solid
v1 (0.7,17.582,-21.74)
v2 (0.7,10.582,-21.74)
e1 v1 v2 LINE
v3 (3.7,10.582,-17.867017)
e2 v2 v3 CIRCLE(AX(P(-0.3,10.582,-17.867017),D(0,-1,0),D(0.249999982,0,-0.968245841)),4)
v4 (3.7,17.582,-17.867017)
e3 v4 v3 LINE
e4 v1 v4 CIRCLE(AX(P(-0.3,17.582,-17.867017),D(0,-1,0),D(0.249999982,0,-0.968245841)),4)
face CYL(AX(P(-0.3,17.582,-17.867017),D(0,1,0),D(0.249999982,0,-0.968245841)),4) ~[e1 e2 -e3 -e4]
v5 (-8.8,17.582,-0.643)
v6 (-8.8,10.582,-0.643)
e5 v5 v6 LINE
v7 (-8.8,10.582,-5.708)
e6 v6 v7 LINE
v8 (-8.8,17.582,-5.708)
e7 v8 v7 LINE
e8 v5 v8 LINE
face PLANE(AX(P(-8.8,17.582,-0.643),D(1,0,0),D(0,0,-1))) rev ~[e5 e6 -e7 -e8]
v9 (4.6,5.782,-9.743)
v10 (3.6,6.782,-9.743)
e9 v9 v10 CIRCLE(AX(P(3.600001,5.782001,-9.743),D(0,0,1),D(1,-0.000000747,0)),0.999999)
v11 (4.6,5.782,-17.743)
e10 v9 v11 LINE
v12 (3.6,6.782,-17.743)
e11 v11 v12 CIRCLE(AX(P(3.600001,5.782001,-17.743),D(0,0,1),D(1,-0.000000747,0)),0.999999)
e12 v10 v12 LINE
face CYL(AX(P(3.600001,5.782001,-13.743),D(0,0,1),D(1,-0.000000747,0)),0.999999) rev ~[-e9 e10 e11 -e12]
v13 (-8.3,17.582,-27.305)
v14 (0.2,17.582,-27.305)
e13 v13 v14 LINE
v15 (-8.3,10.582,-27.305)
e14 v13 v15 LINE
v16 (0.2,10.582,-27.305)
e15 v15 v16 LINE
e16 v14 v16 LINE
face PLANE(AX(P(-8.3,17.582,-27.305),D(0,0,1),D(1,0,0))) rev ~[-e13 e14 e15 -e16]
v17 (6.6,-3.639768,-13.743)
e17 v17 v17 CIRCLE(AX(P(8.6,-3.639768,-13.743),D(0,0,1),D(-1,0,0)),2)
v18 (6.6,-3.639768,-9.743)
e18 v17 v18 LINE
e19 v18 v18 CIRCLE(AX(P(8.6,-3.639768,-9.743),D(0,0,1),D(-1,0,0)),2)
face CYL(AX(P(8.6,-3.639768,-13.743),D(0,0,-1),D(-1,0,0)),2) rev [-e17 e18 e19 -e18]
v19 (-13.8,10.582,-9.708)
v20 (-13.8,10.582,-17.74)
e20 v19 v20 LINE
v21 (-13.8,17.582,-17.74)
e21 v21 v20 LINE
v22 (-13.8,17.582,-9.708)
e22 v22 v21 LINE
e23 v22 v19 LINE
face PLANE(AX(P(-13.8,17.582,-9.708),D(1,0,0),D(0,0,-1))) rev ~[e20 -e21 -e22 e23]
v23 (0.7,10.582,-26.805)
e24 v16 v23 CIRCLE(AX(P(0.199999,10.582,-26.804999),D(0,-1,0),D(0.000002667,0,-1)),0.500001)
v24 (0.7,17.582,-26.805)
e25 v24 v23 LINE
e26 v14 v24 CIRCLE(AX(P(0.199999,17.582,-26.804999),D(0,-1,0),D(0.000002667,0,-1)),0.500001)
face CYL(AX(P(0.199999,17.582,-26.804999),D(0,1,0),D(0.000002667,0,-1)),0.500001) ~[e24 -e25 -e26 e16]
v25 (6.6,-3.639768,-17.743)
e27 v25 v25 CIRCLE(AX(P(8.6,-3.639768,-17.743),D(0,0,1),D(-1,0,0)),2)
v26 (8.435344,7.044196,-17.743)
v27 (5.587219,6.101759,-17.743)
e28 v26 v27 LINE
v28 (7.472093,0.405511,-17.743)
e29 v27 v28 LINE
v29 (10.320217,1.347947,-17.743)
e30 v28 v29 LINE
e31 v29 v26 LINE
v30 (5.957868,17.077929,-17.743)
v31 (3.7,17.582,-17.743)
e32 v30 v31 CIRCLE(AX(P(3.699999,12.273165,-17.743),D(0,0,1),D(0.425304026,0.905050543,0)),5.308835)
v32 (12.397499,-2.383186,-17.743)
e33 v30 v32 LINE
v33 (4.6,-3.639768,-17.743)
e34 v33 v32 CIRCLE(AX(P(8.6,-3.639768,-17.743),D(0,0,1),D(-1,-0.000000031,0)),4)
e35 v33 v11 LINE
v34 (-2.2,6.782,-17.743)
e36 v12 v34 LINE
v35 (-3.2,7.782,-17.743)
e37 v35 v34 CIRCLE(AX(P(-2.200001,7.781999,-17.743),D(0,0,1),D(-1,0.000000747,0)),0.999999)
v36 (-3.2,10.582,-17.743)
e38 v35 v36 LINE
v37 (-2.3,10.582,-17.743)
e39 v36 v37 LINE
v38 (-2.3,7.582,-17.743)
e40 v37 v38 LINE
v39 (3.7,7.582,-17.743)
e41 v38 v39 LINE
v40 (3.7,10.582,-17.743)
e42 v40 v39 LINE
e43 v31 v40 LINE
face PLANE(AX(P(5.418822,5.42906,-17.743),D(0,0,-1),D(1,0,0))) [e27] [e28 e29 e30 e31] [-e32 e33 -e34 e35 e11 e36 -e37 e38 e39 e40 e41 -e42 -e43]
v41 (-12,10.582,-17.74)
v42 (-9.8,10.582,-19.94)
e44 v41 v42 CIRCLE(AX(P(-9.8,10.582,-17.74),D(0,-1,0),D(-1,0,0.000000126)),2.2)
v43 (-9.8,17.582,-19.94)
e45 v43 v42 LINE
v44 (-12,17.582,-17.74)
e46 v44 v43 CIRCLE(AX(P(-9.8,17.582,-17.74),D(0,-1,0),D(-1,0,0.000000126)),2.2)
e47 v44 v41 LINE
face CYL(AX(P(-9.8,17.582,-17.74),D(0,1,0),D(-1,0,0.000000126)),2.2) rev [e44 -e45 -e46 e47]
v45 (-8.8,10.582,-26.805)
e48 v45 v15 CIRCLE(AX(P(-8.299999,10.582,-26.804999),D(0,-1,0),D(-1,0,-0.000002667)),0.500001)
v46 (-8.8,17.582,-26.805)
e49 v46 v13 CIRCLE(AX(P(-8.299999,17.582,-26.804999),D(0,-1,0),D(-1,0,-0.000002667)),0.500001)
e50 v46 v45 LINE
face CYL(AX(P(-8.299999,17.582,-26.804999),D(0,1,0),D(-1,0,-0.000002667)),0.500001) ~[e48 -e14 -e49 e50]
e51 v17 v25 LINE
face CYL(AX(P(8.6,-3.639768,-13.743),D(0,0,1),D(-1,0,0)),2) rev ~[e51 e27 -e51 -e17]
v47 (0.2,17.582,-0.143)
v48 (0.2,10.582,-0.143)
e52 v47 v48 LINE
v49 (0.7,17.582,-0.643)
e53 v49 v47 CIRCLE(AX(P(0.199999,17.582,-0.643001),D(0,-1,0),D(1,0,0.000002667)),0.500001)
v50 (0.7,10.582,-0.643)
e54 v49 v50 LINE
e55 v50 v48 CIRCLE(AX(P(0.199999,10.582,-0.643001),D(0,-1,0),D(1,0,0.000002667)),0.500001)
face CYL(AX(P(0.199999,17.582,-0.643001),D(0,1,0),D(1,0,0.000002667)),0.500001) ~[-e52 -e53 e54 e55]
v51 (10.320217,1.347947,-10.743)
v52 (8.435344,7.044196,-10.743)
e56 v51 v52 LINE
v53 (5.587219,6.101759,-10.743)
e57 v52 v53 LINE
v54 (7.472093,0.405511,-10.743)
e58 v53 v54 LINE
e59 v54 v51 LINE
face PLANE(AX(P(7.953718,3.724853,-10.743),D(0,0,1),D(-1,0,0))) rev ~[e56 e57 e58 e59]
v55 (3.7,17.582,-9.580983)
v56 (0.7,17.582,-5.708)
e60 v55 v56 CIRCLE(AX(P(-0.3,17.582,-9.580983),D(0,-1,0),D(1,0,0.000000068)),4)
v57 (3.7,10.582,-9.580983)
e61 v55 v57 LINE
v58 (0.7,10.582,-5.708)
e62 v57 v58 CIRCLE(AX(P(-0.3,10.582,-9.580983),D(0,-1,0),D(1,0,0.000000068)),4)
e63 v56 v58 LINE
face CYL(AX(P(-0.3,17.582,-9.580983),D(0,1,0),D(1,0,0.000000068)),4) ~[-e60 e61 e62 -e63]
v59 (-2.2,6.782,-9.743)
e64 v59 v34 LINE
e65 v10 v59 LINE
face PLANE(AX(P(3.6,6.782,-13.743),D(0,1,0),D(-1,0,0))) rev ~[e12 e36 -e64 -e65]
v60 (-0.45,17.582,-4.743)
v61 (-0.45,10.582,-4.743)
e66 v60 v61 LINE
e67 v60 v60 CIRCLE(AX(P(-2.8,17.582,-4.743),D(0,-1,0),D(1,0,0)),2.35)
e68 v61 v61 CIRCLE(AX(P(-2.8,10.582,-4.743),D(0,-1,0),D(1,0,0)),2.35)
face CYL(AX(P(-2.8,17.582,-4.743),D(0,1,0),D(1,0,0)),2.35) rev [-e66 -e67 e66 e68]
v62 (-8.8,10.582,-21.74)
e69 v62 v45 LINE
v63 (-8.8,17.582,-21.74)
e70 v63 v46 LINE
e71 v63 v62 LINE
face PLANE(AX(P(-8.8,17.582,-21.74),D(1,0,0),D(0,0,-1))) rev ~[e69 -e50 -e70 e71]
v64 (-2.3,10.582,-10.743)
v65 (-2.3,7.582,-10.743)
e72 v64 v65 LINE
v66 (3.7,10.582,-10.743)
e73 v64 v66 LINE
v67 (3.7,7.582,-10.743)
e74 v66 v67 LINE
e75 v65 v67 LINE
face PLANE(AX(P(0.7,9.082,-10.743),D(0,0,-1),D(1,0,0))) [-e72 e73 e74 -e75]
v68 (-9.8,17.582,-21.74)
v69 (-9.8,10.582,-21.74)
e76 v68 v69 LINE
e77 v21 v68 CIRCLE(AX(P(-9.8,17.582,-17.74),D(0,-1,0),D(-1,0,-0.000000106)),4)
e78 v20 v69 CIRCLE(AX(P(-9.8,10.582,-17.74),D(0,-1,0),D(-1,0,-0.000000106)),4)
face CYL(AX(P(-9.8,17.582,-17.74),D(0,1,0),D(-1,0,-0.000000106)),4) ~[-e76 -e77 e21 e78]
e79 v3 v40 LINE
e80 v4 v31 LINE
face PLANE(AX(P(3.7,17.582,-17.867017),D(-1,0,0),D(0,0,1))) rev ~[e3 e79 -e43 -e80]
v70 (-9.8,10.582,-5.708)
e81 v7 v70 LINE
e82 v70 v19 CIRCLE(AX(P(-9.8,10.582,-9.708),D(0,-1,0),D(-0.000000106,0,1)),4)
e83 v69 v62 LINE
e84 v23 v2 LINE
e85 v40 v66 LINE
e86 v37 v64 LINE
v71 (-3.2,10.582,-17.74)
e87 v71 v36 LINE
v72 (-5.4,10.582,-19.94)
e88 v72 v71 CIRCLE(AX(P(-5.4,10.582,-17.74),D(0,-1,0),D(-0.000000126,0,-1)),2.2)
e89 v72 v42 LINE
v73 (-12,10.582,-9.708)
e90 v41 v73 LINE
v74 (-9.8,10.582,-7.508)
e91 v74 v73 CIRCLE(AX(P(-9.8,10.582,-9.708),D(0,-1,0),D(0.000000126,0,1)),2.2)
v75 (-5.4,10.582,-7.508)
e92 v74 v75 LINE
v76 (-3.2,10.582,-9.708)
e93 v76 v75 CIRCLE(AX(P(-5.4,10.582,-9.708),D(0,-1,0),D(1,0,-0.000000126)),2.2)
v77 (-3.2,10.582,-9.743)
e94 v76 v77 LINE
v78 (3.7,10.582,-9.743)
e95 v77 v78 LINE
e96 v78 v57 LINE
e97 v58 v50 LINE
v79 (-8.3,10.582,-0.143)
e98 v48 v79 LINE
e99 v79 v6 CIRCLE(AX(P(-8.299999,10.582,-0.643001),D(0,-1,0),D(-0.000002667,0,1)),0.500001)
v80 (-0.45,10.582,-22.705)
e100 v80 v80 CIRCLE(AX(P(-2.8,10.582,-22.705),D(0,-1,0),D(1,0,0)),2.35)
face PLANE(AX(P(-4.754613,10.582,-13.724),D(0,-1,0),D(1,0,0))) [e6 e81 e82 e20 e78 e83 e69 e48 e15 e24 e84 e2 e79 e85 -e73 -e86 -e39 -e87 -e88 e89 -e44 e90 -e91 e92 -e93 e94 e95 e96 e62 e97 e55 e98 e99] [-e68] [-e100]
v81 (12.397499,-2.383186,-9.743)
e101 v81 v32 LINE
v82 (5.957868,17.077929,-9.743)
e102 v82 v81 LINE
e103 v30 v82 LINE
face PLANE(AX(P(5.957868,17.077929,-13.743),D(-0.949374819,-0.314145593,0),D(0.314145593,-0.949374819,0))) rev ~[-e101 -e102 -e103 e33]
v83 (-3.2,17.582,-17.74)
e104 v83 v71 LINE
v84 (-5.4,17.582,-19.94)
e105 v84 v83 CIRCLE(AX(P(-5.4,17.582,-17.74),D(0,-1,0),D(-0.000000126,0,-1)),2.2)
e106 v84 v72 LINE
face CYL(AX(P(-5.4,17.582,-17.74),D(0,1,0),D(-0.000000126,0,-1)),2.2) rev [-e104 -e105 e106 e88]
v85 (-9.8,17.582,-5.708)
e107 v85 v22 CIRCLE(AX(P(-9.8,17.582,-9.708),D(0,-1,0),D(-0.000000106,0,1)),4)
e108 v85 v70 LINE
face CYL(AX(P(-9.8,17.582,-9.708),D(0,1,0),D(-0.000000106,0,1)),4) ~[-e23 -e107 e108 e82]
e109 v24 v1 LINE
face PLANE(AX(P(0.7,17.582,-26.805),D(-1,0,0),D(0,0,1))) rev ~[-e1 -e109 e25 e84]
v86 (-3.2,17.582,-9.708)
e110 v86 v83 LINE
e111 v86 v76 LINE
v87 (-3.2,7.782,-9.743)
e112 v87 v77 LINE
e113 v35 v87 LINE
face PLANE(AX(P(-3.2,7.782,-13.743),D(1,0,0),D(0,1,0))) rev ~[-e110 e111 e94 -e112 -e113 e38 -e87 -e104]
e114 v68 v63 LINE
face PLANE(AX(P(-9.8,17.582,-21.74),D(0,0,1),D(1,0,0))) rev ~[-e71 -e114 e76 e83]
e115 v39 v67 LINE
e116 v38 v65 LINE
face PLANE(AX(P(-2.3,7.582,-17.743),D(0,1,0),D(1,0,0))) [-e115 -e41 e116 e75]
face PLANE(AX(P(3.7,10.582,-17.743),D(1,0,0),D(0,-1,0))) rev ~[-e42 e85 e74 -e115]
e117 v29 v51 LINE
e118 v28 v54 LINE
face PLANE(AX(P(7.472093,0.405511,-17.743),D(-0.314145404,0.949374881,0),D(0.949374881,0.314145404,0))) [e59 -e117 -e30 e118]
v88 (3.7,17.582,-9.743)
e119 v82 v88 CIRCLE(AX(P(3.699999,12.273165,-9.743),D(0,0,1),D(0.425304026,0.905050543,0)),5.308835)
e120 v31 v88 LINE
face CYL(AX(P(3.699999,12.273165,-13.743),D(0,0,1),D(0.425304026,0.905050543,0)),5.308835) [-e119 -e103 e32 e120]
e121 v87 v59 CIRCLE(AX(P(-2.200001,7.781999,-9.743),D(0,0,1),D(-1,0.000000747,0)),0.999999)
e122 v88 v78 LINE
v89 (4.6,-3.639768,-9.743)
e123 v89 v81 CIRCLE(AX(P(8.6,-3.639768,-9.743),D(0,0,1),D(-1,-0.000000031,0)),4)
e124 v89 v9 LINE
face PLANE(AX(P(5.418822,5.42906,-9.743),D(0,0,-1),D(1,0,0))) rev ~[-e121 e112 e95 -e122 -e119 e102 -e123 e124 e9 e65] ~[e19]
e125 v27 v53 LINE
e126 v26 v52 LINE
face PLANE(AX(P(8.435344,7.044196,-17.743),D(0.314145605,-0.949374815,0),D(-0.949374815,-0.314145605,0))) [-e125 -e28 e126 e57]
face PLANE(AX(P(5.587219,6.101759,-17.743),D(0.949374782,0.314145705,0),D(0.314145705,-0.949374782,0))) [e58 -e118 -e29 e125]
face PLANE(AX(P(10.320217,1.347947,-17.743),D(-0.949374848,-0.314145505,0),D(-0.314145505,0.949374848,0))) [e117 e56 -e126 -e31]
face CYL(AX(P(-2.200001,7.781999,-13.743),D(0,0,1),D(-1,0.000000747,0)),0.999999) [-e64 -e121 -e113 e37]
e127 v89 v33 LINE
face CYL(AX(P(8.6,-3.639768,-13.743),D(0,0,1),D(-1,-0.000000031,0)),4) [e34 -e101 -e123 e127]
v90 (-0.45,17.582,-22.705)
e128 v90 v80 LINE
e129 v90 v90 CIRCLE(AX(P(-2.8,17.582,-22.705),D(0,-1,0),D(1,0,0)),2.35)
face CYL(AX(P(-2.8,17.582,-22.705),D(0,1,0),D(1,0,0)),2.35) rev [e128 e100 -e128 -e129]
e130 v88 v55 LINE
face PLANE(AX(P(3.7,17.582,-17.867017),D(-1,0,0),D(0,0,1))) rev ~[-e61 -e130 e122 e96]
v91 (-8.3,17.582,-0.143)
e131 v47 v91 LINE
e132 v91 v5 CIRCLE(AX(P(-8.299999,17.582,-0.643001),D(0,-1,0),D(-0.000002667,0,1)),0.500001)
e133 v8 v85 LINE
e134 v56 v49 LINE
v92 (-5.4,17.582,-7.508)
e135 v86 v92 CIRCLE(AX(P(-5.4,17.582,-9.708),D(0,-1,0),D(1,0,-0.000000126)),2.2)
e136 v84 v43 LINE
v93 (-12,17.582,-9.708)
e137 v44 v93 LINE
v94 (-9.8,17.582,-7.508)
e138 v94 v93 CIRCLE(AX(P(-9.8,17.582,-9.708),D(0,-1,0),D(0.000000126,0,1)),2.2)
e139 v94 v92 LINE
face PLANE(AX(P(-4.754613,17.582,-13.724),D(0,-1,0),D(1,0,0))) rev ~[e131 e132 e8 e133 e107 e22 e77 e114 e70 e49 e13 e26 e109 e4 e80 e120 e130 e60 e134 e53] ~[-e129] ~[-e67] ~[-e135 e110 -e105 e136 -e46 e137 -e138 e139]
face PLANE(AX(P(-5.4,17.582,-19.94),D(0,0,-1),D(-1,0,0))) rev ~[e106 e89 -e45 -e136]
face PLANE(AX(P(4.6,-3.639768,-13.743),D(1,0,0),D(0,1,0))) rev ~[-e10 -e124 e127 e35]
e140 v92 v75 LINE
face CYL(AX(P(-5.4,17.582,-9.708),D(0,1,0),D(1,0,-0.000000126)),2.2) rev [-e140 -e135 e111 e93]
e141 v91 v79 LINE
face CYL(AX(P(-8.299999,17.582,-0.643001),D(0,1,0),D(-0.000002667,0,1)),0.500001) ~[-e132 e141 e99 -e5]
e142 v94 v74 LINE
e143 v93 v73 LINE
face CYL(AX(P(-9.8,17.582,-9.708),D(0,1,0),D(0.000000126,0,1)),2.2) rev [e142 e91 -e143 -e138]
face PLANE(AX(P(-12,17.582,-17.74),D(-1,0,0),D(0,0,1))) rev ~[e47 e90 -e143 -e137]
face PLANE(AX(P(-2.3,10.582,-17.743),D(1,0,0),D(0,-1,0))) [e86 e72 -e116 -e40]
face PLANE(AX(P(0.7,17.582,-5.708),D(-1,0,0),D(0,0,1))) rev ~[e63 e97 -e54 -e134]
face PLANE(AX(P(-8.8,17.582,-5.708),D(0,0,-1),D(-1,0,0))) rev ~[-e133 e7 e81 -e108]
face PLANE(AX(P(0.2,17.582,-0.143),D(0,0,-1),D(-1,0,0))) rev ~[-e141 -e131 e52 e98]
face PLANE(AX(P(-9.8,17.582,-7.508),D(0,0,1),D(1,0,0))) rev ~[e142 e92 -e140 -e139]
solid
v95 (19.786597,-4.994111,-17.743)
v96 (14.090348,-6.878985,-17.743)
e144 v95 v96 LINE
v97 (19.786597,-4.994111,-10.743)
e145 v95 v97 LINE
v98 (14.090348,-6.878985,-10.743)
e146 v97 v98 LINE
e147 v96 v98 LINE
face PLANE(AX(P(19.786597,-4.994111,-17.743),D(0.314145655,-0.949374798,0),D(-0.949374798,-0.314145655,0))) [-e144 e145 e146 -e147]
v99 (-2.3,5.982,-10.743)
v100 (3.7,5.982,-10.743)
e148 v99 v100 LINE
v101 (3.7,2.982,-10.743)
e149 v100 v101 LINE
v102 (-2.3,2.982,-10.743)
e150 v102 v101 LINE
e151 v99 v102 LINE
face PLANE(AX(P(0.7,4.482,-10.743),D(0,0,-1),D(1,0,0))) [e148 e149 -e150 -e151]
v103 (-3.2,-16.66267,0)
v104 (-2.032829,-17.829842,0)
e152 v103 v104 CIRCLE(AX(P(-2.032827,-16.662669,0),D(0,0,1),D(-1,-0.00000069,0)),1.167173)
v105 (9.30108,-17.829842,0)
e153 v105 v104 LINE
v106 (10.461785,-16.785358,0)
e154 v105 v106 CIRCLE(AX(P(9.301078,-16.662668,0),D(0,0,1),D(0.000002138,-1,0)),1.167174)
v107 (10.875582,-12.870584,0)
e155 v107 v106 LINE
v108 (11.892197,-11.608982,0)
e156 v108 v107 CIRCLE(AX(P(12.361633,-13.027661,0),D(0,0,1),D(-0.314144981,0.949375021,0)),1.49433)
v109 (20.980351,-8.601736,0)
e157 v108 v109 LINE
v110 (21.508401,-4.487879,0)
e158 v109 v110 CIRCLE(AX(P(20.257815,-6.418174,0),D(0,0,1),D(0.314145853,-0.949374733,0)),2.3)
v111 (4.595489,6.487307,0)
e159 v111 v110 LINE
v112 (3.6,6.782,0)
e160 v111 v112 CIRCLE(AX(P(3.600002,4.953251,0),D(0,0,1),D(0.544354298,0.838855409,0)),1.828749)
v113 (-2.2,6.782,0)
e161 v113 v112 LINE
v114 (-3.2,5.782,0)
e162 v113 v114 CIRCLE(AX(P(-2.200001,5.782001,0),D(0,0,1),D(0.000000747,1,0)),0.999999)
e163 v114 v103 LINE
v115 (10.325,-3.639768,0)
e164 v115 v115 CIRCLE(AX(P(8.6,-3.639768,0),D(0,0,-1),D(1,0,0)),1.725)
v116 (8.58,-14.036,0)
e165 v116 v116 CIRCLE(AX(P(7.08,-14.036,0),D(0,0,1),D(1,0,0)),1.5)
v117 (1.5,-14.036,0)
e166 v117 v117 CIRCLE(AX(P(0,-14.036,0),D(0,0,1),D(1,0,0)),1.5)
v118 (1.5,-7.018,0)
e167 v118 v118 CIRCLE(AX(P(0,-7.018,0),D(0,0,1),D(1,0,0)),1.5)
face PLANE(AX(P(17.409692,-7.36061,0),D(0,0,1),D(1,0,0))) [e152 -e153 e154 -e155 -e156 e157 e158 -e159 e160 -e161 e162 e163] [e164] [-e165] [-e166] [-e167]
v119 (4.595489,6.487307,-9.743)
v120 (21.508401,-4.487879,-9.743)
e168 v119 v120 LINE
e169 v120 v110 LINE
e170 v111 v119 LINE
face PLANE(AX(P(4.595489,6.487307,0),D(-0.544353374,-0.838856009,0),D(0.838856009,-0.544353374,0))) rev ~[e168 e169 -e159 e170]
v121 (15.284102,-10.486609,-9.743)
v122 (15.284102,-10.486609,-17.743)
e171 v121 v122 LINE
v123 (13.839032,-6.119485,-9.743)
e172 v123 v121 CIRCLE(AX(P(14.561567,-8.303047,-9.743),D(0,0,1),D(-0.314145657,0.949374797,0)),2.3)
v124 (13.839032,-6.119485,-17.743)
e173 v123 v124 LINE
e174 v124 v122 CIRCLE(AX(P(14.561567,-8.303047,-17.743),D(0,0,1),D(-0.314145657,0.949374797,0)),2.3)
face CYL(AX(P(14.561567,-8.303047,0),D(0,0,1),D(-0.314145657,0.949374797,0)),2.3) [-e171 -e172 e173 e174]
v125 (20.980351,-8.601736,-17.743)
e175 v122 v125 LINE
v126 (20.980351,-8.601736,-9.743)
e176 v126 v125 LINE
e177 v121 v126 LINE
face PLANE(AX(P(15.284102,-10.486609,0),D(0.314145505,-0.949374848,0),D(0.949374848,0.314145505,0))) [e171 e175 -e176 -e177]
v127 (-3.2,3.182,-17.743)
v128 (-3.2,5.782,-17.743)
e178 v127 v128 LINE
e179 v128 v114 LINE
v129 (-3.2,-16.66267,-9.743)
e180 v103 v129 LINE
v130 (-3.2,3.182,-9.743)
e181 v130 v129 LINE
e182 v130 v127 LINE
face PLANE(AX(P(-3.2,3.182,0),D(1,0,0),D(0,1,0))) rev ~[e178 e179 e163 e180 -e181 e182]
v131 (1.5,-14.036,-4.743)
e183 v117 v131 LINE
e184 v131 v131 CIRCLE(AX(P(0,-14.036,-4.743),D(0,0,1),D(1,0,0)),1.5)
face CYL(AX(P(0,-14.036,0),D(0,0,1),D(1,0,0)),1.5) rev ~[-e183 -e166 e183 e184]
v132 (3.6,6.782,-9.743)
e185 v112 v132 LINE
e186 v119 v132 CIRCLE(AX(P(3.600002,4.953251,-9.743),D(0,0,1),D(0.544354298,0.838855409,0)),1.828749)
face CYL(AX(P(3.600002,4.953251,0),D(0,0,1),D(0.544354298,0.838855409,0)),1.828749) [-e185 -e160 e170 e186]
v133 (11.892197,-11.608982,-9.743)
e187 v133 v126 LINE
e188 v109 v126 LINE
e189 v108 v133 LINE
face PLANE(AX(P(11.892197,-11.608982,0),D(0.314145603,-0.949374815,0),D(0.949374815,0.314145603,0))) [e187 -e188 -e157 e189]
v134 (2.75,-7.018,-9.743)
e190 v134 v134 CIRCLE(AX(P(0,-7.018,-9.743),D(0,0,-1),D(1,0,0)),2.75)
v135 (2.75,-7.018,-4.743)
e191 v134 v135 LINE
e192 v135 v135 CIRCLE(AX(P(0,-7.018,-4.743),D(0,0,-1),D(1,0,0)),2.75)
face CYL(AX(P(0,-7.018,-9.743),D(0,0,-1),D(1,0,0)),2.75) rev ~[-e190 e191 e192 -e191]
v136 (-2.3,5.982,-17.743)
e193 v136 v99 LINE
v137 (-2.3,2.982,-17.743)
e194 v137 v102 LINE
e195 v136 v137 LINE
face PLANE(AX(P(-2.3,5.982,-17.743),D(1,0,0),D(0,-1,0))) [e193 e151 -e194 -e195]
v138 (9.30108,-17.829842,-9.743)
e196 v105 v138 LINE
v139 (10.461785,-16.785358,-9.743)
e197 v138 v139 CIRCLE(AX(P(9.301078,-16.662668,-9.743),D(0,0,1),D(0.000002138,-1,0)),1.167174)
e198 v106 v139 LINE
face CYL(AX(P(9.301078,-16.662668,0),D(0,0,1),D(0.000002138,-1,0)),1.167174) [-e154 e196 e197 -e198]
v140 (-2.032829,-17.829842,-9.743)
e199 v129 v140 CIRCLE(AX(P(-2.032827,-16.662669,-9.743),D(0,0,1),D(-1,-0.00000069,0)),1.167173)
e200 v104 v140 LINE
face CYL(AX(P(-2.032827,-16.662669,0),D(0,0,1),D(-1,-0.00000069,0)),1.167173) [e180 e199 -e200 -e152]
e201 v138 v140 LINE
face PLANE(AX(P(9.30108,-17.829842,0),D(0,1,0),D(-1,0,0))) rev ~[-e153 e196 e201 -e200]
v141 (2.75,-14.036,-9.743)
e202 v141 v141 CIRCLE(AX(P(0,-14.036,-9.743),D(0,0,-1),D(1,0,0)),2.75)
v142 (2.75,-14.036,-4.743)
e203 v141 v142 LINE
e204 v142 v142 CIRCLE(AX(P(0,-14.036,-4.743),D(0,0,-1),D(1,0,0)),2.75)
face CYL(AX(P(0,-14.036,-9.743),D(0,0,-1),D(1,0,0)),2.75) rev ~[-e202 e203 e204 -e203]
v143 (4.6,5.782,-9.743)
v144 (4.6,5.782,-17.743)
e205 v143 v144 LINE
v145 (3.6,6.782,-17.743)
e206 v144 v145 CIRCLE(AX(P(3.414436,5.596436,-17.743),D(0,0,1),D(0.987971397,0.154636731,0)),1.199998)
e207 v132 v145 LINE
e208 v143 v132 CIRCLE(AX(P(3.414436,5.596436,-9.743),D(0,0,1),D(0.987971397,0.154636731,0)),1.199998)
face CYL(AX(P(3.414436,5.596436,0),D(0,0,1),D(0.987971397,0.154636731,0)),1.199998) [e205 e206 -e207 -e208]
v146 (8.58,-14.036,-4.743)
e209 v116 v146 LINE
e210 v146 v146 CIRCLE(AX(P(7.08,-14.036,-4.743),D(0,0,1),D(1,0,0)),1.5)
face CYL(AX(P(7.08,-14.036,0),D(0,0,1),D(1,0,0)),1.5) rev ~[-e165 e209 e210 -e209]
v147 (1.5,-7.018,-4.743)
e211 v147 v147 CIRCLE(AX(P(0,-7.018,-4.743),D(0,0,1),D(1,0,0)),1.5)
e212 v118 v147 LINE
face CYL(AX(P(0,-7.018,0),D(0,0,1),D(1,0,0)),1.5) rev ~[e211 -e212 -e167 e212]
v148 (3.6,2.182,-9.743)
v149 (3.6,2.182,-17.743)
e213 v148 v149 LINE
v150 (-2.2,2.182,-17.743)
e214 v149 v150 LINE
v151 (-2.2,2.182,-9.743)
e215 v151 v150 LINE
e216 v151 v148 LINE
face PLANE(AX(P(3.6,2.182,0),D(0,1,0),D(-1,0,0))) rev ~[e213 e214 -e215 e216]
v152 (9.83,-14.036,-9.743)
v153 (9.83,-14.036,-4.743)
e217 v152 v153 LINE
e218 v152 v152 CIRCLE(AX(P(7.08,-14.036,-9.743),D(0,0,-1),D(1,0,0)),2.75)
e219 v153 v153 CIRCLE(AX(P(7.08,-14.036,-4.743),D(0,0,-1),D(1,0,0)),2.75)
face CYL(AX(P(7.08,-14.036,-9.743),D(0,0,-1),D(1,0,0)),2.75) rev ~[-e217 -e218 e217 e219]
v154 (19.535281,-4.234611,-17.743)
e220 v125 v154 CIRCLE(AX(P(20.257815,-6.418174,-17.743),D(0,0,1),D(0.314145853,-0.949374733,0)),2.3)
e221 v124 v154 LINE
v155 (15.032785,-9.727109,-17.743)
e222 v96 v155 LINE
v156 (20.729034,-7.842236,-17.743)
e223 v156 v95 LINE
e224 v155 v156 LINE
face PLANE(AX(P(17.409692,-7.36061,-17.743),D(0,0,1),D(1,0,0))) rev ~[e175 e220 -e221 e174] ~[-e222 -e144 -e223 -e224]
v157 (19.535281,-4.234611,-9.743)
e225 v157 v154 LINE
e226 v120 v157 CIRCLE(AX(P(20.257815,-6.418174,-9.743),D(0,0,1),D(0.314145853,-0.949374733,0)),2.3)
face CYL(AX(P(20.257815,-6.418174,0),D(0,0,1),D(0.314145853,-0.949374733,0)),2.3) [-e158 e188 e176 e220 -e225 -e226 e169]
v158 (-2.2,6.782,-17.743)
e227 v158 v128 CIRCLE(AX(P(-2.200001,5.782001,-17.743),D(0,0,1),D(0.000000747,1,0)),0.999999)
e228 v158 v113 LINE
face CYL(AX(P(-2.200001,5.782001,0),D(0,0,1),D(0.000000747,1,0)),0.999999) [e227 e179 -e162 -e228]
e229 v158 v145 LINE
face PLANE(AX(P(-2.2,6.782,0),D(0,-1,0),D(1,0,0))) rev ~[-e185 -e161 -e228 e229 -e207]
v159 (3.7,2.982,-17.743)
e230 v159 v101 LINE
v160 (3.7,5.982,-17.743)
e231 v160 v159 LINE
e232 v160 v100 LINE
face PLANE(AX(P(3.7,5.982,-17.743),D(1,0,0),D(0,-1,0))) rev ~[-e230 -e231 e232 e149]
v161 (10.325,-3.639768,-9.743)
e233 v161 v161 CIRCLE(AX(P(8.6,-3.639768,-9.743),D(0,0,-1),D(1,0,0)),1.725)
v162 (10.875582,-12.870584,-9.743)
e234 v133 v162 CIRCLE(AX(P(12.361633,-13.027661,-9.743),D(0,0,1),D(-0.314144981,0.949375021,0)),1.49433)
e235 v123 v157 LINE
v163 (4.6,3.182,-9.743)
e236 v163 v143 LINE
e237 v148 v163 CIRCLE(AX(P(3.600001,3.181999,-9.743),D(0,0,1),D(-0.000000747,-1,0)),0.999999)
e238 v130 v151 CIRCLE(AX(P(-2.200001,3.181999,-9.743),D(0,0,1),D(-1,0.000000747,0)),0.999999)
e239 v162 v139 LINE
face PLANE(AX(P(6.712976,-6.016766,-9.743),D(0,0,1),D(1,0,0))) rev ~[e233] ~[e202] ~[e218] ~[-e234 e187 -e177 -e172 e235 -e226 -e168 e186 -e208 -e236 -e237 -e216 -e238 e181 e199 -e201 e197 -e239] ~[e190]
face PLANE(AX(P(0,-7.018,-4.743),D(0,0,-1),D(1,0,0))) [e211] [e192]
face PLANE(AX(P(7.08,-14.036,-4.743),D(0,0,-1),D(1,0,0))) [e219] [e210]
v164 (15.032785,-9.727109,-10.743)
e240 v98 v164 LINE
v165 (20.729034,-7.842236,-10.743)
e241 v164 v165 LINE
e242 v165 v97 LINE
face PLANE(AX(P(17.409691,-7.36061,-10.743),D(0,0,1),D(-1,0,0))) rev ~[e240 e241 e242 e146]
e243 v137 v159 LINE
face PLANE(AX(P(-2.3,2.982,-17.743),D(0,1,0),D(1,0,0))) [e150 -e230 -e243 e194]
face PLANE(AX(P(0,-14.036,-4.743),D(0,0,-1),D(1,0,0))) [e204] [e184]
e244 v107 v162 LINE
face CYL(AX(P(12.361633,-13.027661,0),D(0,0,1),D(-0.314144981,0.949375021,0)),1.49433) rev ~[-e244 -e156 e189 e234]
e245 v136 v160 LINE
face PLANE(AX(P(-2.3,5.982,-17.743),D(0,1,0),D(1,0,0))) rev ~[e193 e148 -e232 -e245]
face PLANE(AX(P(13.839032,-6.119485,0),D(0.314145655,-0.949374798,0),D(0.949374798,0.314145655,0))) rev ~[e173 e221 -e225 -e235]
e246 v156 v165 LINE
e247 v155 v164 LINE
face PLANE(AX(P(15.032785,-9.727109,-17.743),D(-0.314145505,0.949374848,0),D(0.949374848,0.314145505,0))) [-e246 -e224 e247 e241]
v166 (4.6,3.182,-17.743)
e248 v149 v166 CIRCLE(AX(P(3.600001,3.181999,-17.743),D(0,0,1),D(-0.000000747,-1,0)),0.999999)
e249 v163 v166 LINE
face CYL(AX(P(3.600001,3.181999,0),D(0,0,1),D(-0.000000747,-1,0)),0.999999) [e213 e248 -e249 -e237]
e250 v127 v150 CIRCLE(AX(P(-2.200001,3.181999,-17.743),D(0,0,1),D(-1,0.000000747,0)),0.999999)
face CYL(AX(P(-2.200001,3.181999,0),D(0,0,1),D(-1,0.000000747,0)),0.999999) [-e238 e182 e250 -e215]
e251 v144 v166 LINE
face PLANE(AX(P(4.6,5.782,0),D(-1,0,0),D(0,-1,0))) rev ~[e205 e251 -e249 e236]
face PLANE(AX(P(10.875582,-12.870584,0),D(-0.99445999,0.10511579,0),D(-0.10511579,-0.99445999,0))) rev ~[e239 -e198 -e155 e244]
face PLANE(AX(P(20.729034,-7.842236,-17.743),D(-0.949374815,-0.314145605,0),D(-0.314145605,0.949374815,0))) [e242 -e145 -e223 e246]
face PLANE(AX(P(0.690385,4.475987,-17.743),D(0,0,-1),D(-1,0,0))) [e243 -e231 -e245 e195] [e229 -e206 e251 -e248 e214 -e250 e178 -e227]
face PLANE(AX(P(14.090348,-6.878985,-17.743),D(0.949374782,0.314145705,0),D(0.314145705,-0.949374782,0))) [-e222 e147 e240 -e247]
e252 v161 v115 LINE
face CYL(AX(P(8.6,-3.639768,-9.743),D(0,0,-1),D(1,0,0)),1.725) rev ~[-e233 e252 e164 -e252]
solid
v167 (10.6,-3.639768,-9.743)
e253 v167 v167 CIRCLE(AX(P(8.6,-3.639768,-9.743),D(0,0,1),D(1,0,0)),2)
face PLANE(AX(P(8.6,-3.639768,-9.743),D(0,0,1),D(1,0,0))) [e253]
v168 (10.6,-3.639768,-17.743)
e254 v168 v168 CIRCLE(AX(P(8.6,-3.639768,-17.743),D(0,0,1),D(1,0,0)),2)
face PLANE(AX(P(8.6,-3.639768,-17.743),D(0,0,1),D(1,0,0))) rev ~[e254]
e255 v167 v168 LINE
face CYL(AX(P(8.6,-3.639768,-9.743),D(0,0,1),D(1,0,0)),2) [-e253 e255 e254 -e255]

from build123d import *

# Parameters (mm, degrees)
SKETCH_R          = 2.35
PAD_DEPTH         = 7
SKETCH001_R       = 2
PAD001_DEPTH      = 4
PAD001_DEPTH_BACK = 4
SKETCH013_W       = 6
SKETCH013_H       = 3
POCKET_DEPTH      = 7
PAD003_DEPTH      = 17.743
PAD005_DEPTH      = 9.743
PAD006_DEPTH      = 17.743
SKETCH016_W       = 6
SKETCH016_H       = 3
POCKET001_DEPTH   = 7
SKETCH017_R       = 1.725
POCKET002_DEPTH   = 9.744
SKETCH018_R       = 1.5
POCKET003_DEPTH   = 17.744
SKETCH019_R       = 2.75
POCKET004_DEPTH   = 5
SKETCH006_R       = 2
PAD004_DEPTH      = 8


with BuildPart() as body:
    # Sketch → Pad (new body)
    with BuildSketch(Plane.XZ.offset(-17.582)):
        with BuildLine():
            Line((-13.8, -9.708), (-13.8, -17.74))
            ThreePointArc((-13.8, -17.74), (-12.628427, -20.568427), (-9.8, -21.74))
            Line((-9.8, -21.74), (-8.8, -21.74))
            Line((-8.8, -21.74), (-8.8, -26.805))
            ThreePointArc((-8.8, -26.805), (-8.653553, -27.158553), (-8.3, -27.305))
            Line((-8.3, -27.305), (0.2, -27.305))
            ThreePointArc((0.2, -27.305), (0.553553, -27.158553), (0.7, -26.805))
            Line((0.7, -26.805), (0.7, -21.74))
            ThreePointArc((0.7, -21.74), (2.862278, -20.316506), (3.7, -17.867017))
            Line((3.7, -17.867017), (3.7, -9.580983))
            ThreePointArc((3.7, -9.580983), (2.862278, -7.131494), (0.7, -5.708))
            Line((0.7, -5.708), (0.7, -0.643))
            ThreePointArc((0.7, -0.643), (0.553553, -0.289447), (0.2, -0.143))
            Line((0.2, -0.143), (-8.3, -0.143))
            ThreePointArc((-8.3, -0.143), (-8.653553, -0.289447), (-8.8, -0.643))
            Line((-8.8, -0.643), (-8.8, -5.708))
            Line((-8.8, -5.708), (-9.8, -5.708))
            ThreePointArc((-9.8, -5.708), (-12.628427, -6.879573), (-13.8, -9.708))
        make_face()
        with Locations((-2.8, -4.743)):
            Circle(SKETCH_R, mode=Mode.SUBTRACT)
        with Locations((-2.8, -22.705)):
            Circle(SKETCH_R, mode=Mode.SUBTRACT)
        with BuildLine():
            Line((-9.8, -7.508), (-5.4, -7.508))
            ThreePointArc((-3.2, -9.708), (-3.844365, -8.152365), (-5.4, -7.508))
            Line((-3.2, -9.708), (-3.2, -17.74))
            ThreePointArc((-5.4, -19.94), (-3.844365, -19.295635), (-3.2, -17.74))
            Line((-5.4, -19.94), (-9.8, -19.94))
            ThreePointArc((-12, -17.74), (-11.355635, -19.295635), (-9.8, -19.94))
            Line((-12, -17.74), (-12, -9.708))
            ThreePointArc((-9.8, -7.508), (-11.355635, -8.152365), (-12, -9.708))
        make_face(mode=Mode.SUBTRACT)
    extrude(amount=PAD_DEPTH)

    # Sketch001 (on DatumPlane) → Pad001 (join, two sides)
    with BuildSketch(Plane(origin=(0, -8, -13.743), x_dir=(-1, 0, 0), z_dir=(0, 0, 1))) as pad001_sk:
        with BuildLine():
            Line((-5.957868, -25.077929), (-12.397499, -5.616814))
            ThreePointArc((-4.6, -4.360232), (-9.236397, -0.411182), (-12.397499, -5.616814))
            Line((-4.6, -4.360232), (-4.6, -13.782))
            ThreePointArc((-4.6, -13.782), (-4.307107, -14.489107), (-3.6, -14.782))
            Line((-3.6, -14.782), (2.2, -14.782))
            ThreePointArc((3.2, -15.782), (2.907107, -15.074893), (2.2, -14.782))
            Line((3.2, -15.782), (3.2, -18.582))
            Line((3.2, -18.582), (-3.7, -18.582))
            Line((-3.7, -25.582), (-3.7, -18.582))
            ThreePointArc((-5.957868, -25.077929), (-4.856725, -25.45445), (-3.7, -25.582))
        make_face()
        with Locations((-8.6, -4.360232)):
            Circle(SKETCH001_R, mode=Mode.SUBTRACT)
    extrude(amount=PAD001_DEPTH)
    extrude(pad001_sk.sketch, amount=-PAD001_DEPTH_BACK)

    # Sketch013 (on Face32 of Pad001) → Pocket (cut)
    with BuildSketch(Plane(origin=(0, 0, -17.743), x_dir=(1, 0, 0), z_dir=(0, 0, -1))):
        with Locations((0.7, -9.082)):
            Rectangle(SKETCH013_W, SKETCH013_H)
        Polygon((7.472093, -0.405511), (10.320217, -1.347947), (8.435344, -7.044196), (5.587219, -6.101759), align=None)
    extrude(amount=-POCKET_DEPTH, mode=Mode.SUBTRACT)


with BuildPart() as attachment:
    # Sketch003 → Pad003 (new body)
    with BuildSketch(Plane.XY):
        with BuildLine():
            Line((-2.2, 6.782), (3.6, 6.782))
            ThreePointArc((4.6, 5.782), (4.262963, 6.444963), (3.6, 6.782))
            Line((4.6, 5.782), (4.6, 3.182))
            ThreePointArc((3.6, 2.182), (4.307107, 2.474893), (4.6, 3.182))
            Line((3.6, 2.182), (-2.2, 2.182))
            ThreePointArc((-3.2, 3.182), (-2.907107, 2.474893), (-2.2, 2.182))
            Line((-3.2, 3.182), (-3.2, 5.782))
            ThreePointArc((-2.2, 6.782), (-2.907107, 6.489107), (-3.2, 5.782))
        make_face()
    extrude(amount=-PAD003_DEPTH)

    # Sketch015 → Pad005 (join)
    with BuildSketch(Plane.XY):
        with BuildLine():
            Line((-3.2, 5.782), (-3.2, -16.66267))
            ThreePointArc((-3.2, -16.66267), (-2.858143, -17.487985), (-2.032829, -17.829842))
            Line((9.30108, -17.829842), (-2.032829, -17.829842))
            ThreePointArc((9.30108, -17.829842), (10.081813, -17.530278), (10.461785, -16.785358))
            Line((10.875582, -12.870584), (10.461785, -16.785358))
            ThreePointArc((11.892197, -11.608982), (11.198064, -12.090043), (10.875582, -12.870584))
            Line((11.892197, -11.608982), (20.980351, -8.601736))
            ThreePointArc((20.980351, -8.601736), (22.538991, -6.71184), (21.509828, -4.488805))
            Line((4.595489, 6.487307), (21.509828, -4.488805))
            ThreePointArc((4.595489, 6.487307), (4.119096, 6.70678), (3.6, 6.782))
            Line((-2.2, 6.782), (3.6, 6.782))
            ThreePointArc((-2.2, 6.782), (-2.907107, 6.489107), (-3.2, 5.782))
        make_face()
    extrude(amount=-PAD005_DEPTH)

    # Sketch014 → Pad006 (join)
    with BuildSketch(Plane.XY):
        with BuildLine():
            ThreePointArc((13.839032, -6.119485), (12.378005, -9.025582), (15.284102, -10.486609))
            Line((15.284102, -10.486609), (20.980351, -8.601736))
            ThreePointArc((20.980351, -8.601736), (22.441378, -5.695639), (19.535281, -4.234611))
            Line((13.839032, -6.119485), (19.535281, -4.234611))
        make_face()
    extrude(amount=-PAD006_DEPTH)

    # Sketch016 (on Face13 of Pad006) → Pocket001 (cut)
    with BuildSketch(Plane(origin=(0, 0, -17.743), x_dir=(1, 0, 0), z_dir=(0, 0, -1))):
        with Locations((0.7, -4.482)):
            Rectangle(SKETCH016_W, SKETCH016_H)
        Polygon((15.032785, 9.727109), (20.729034, 7.842236), (19.786597, 4.994111), (14.090348, 6.878985), align=None)
    extrude(amount=-POCKET001_DEPTH, mode=Mode.SUBTRACT)

    # Sketch017 (on Face4 of Pocket001) → Pocket002 (cut, through all)
    with BuildSketch(Plane(origin=(0, 0, -9.743), x_dir=(1, 0, 0), z_dir=(0, 0, -1))):
        with Locations((8.6, 3.639768)):
            Circle(SKETCH017_R)
    extrude(amount=-POCKET002_DEPTH, mode=Mode.SUBTRACT)

    # Sketch018 → Pocket003 (cut, through all)
    with BuildSketch(Plane.XY):
        with Locations((0, -7.018)):
            Circle(SKETCH018_R)
        with Locations((0, -14.036)):
            Circle(SKETCH018_R)
        with Locations((7.08, -14.036)):
            Circle(SKETCH018_R)
    extrude(amount=-POCKET003_DEPTH, mode=Mode.SUBTRACT)

    # Sketch019 (on Face4 of Pocket003) → Pocket004 (cut)
    with BuildSketch(Plane(origin=(0, 0, -9.743), x_dir=(1, 0, 0), z_dir=(0, 0, -1))):
        with Locations((0, 14.036)):
            Circle(SKETCH019_R)
        with Locations((7.08, 14.036)):
            Circle(SKETCH019_R)
        with Locations((0, 7.018)):
            Circle(SKETCH019_R)
    extrude(amount=-POCKET004_DEPTH, mode=Mode.SUBTRACT)


with BuildPart() as rotator:
    # Sketch006 (on DatumPlane) → Pad004 (new body)
    with BuildSketch(Plane.XY.offset(-9.743)):
        with Locations((8.6, -3.639768)):
            Circle(SKETCH006_R)
    extrude(amount=-PAD004_DEPTH)


solid = Compound([body.part, attachment.part, rotator.part])
